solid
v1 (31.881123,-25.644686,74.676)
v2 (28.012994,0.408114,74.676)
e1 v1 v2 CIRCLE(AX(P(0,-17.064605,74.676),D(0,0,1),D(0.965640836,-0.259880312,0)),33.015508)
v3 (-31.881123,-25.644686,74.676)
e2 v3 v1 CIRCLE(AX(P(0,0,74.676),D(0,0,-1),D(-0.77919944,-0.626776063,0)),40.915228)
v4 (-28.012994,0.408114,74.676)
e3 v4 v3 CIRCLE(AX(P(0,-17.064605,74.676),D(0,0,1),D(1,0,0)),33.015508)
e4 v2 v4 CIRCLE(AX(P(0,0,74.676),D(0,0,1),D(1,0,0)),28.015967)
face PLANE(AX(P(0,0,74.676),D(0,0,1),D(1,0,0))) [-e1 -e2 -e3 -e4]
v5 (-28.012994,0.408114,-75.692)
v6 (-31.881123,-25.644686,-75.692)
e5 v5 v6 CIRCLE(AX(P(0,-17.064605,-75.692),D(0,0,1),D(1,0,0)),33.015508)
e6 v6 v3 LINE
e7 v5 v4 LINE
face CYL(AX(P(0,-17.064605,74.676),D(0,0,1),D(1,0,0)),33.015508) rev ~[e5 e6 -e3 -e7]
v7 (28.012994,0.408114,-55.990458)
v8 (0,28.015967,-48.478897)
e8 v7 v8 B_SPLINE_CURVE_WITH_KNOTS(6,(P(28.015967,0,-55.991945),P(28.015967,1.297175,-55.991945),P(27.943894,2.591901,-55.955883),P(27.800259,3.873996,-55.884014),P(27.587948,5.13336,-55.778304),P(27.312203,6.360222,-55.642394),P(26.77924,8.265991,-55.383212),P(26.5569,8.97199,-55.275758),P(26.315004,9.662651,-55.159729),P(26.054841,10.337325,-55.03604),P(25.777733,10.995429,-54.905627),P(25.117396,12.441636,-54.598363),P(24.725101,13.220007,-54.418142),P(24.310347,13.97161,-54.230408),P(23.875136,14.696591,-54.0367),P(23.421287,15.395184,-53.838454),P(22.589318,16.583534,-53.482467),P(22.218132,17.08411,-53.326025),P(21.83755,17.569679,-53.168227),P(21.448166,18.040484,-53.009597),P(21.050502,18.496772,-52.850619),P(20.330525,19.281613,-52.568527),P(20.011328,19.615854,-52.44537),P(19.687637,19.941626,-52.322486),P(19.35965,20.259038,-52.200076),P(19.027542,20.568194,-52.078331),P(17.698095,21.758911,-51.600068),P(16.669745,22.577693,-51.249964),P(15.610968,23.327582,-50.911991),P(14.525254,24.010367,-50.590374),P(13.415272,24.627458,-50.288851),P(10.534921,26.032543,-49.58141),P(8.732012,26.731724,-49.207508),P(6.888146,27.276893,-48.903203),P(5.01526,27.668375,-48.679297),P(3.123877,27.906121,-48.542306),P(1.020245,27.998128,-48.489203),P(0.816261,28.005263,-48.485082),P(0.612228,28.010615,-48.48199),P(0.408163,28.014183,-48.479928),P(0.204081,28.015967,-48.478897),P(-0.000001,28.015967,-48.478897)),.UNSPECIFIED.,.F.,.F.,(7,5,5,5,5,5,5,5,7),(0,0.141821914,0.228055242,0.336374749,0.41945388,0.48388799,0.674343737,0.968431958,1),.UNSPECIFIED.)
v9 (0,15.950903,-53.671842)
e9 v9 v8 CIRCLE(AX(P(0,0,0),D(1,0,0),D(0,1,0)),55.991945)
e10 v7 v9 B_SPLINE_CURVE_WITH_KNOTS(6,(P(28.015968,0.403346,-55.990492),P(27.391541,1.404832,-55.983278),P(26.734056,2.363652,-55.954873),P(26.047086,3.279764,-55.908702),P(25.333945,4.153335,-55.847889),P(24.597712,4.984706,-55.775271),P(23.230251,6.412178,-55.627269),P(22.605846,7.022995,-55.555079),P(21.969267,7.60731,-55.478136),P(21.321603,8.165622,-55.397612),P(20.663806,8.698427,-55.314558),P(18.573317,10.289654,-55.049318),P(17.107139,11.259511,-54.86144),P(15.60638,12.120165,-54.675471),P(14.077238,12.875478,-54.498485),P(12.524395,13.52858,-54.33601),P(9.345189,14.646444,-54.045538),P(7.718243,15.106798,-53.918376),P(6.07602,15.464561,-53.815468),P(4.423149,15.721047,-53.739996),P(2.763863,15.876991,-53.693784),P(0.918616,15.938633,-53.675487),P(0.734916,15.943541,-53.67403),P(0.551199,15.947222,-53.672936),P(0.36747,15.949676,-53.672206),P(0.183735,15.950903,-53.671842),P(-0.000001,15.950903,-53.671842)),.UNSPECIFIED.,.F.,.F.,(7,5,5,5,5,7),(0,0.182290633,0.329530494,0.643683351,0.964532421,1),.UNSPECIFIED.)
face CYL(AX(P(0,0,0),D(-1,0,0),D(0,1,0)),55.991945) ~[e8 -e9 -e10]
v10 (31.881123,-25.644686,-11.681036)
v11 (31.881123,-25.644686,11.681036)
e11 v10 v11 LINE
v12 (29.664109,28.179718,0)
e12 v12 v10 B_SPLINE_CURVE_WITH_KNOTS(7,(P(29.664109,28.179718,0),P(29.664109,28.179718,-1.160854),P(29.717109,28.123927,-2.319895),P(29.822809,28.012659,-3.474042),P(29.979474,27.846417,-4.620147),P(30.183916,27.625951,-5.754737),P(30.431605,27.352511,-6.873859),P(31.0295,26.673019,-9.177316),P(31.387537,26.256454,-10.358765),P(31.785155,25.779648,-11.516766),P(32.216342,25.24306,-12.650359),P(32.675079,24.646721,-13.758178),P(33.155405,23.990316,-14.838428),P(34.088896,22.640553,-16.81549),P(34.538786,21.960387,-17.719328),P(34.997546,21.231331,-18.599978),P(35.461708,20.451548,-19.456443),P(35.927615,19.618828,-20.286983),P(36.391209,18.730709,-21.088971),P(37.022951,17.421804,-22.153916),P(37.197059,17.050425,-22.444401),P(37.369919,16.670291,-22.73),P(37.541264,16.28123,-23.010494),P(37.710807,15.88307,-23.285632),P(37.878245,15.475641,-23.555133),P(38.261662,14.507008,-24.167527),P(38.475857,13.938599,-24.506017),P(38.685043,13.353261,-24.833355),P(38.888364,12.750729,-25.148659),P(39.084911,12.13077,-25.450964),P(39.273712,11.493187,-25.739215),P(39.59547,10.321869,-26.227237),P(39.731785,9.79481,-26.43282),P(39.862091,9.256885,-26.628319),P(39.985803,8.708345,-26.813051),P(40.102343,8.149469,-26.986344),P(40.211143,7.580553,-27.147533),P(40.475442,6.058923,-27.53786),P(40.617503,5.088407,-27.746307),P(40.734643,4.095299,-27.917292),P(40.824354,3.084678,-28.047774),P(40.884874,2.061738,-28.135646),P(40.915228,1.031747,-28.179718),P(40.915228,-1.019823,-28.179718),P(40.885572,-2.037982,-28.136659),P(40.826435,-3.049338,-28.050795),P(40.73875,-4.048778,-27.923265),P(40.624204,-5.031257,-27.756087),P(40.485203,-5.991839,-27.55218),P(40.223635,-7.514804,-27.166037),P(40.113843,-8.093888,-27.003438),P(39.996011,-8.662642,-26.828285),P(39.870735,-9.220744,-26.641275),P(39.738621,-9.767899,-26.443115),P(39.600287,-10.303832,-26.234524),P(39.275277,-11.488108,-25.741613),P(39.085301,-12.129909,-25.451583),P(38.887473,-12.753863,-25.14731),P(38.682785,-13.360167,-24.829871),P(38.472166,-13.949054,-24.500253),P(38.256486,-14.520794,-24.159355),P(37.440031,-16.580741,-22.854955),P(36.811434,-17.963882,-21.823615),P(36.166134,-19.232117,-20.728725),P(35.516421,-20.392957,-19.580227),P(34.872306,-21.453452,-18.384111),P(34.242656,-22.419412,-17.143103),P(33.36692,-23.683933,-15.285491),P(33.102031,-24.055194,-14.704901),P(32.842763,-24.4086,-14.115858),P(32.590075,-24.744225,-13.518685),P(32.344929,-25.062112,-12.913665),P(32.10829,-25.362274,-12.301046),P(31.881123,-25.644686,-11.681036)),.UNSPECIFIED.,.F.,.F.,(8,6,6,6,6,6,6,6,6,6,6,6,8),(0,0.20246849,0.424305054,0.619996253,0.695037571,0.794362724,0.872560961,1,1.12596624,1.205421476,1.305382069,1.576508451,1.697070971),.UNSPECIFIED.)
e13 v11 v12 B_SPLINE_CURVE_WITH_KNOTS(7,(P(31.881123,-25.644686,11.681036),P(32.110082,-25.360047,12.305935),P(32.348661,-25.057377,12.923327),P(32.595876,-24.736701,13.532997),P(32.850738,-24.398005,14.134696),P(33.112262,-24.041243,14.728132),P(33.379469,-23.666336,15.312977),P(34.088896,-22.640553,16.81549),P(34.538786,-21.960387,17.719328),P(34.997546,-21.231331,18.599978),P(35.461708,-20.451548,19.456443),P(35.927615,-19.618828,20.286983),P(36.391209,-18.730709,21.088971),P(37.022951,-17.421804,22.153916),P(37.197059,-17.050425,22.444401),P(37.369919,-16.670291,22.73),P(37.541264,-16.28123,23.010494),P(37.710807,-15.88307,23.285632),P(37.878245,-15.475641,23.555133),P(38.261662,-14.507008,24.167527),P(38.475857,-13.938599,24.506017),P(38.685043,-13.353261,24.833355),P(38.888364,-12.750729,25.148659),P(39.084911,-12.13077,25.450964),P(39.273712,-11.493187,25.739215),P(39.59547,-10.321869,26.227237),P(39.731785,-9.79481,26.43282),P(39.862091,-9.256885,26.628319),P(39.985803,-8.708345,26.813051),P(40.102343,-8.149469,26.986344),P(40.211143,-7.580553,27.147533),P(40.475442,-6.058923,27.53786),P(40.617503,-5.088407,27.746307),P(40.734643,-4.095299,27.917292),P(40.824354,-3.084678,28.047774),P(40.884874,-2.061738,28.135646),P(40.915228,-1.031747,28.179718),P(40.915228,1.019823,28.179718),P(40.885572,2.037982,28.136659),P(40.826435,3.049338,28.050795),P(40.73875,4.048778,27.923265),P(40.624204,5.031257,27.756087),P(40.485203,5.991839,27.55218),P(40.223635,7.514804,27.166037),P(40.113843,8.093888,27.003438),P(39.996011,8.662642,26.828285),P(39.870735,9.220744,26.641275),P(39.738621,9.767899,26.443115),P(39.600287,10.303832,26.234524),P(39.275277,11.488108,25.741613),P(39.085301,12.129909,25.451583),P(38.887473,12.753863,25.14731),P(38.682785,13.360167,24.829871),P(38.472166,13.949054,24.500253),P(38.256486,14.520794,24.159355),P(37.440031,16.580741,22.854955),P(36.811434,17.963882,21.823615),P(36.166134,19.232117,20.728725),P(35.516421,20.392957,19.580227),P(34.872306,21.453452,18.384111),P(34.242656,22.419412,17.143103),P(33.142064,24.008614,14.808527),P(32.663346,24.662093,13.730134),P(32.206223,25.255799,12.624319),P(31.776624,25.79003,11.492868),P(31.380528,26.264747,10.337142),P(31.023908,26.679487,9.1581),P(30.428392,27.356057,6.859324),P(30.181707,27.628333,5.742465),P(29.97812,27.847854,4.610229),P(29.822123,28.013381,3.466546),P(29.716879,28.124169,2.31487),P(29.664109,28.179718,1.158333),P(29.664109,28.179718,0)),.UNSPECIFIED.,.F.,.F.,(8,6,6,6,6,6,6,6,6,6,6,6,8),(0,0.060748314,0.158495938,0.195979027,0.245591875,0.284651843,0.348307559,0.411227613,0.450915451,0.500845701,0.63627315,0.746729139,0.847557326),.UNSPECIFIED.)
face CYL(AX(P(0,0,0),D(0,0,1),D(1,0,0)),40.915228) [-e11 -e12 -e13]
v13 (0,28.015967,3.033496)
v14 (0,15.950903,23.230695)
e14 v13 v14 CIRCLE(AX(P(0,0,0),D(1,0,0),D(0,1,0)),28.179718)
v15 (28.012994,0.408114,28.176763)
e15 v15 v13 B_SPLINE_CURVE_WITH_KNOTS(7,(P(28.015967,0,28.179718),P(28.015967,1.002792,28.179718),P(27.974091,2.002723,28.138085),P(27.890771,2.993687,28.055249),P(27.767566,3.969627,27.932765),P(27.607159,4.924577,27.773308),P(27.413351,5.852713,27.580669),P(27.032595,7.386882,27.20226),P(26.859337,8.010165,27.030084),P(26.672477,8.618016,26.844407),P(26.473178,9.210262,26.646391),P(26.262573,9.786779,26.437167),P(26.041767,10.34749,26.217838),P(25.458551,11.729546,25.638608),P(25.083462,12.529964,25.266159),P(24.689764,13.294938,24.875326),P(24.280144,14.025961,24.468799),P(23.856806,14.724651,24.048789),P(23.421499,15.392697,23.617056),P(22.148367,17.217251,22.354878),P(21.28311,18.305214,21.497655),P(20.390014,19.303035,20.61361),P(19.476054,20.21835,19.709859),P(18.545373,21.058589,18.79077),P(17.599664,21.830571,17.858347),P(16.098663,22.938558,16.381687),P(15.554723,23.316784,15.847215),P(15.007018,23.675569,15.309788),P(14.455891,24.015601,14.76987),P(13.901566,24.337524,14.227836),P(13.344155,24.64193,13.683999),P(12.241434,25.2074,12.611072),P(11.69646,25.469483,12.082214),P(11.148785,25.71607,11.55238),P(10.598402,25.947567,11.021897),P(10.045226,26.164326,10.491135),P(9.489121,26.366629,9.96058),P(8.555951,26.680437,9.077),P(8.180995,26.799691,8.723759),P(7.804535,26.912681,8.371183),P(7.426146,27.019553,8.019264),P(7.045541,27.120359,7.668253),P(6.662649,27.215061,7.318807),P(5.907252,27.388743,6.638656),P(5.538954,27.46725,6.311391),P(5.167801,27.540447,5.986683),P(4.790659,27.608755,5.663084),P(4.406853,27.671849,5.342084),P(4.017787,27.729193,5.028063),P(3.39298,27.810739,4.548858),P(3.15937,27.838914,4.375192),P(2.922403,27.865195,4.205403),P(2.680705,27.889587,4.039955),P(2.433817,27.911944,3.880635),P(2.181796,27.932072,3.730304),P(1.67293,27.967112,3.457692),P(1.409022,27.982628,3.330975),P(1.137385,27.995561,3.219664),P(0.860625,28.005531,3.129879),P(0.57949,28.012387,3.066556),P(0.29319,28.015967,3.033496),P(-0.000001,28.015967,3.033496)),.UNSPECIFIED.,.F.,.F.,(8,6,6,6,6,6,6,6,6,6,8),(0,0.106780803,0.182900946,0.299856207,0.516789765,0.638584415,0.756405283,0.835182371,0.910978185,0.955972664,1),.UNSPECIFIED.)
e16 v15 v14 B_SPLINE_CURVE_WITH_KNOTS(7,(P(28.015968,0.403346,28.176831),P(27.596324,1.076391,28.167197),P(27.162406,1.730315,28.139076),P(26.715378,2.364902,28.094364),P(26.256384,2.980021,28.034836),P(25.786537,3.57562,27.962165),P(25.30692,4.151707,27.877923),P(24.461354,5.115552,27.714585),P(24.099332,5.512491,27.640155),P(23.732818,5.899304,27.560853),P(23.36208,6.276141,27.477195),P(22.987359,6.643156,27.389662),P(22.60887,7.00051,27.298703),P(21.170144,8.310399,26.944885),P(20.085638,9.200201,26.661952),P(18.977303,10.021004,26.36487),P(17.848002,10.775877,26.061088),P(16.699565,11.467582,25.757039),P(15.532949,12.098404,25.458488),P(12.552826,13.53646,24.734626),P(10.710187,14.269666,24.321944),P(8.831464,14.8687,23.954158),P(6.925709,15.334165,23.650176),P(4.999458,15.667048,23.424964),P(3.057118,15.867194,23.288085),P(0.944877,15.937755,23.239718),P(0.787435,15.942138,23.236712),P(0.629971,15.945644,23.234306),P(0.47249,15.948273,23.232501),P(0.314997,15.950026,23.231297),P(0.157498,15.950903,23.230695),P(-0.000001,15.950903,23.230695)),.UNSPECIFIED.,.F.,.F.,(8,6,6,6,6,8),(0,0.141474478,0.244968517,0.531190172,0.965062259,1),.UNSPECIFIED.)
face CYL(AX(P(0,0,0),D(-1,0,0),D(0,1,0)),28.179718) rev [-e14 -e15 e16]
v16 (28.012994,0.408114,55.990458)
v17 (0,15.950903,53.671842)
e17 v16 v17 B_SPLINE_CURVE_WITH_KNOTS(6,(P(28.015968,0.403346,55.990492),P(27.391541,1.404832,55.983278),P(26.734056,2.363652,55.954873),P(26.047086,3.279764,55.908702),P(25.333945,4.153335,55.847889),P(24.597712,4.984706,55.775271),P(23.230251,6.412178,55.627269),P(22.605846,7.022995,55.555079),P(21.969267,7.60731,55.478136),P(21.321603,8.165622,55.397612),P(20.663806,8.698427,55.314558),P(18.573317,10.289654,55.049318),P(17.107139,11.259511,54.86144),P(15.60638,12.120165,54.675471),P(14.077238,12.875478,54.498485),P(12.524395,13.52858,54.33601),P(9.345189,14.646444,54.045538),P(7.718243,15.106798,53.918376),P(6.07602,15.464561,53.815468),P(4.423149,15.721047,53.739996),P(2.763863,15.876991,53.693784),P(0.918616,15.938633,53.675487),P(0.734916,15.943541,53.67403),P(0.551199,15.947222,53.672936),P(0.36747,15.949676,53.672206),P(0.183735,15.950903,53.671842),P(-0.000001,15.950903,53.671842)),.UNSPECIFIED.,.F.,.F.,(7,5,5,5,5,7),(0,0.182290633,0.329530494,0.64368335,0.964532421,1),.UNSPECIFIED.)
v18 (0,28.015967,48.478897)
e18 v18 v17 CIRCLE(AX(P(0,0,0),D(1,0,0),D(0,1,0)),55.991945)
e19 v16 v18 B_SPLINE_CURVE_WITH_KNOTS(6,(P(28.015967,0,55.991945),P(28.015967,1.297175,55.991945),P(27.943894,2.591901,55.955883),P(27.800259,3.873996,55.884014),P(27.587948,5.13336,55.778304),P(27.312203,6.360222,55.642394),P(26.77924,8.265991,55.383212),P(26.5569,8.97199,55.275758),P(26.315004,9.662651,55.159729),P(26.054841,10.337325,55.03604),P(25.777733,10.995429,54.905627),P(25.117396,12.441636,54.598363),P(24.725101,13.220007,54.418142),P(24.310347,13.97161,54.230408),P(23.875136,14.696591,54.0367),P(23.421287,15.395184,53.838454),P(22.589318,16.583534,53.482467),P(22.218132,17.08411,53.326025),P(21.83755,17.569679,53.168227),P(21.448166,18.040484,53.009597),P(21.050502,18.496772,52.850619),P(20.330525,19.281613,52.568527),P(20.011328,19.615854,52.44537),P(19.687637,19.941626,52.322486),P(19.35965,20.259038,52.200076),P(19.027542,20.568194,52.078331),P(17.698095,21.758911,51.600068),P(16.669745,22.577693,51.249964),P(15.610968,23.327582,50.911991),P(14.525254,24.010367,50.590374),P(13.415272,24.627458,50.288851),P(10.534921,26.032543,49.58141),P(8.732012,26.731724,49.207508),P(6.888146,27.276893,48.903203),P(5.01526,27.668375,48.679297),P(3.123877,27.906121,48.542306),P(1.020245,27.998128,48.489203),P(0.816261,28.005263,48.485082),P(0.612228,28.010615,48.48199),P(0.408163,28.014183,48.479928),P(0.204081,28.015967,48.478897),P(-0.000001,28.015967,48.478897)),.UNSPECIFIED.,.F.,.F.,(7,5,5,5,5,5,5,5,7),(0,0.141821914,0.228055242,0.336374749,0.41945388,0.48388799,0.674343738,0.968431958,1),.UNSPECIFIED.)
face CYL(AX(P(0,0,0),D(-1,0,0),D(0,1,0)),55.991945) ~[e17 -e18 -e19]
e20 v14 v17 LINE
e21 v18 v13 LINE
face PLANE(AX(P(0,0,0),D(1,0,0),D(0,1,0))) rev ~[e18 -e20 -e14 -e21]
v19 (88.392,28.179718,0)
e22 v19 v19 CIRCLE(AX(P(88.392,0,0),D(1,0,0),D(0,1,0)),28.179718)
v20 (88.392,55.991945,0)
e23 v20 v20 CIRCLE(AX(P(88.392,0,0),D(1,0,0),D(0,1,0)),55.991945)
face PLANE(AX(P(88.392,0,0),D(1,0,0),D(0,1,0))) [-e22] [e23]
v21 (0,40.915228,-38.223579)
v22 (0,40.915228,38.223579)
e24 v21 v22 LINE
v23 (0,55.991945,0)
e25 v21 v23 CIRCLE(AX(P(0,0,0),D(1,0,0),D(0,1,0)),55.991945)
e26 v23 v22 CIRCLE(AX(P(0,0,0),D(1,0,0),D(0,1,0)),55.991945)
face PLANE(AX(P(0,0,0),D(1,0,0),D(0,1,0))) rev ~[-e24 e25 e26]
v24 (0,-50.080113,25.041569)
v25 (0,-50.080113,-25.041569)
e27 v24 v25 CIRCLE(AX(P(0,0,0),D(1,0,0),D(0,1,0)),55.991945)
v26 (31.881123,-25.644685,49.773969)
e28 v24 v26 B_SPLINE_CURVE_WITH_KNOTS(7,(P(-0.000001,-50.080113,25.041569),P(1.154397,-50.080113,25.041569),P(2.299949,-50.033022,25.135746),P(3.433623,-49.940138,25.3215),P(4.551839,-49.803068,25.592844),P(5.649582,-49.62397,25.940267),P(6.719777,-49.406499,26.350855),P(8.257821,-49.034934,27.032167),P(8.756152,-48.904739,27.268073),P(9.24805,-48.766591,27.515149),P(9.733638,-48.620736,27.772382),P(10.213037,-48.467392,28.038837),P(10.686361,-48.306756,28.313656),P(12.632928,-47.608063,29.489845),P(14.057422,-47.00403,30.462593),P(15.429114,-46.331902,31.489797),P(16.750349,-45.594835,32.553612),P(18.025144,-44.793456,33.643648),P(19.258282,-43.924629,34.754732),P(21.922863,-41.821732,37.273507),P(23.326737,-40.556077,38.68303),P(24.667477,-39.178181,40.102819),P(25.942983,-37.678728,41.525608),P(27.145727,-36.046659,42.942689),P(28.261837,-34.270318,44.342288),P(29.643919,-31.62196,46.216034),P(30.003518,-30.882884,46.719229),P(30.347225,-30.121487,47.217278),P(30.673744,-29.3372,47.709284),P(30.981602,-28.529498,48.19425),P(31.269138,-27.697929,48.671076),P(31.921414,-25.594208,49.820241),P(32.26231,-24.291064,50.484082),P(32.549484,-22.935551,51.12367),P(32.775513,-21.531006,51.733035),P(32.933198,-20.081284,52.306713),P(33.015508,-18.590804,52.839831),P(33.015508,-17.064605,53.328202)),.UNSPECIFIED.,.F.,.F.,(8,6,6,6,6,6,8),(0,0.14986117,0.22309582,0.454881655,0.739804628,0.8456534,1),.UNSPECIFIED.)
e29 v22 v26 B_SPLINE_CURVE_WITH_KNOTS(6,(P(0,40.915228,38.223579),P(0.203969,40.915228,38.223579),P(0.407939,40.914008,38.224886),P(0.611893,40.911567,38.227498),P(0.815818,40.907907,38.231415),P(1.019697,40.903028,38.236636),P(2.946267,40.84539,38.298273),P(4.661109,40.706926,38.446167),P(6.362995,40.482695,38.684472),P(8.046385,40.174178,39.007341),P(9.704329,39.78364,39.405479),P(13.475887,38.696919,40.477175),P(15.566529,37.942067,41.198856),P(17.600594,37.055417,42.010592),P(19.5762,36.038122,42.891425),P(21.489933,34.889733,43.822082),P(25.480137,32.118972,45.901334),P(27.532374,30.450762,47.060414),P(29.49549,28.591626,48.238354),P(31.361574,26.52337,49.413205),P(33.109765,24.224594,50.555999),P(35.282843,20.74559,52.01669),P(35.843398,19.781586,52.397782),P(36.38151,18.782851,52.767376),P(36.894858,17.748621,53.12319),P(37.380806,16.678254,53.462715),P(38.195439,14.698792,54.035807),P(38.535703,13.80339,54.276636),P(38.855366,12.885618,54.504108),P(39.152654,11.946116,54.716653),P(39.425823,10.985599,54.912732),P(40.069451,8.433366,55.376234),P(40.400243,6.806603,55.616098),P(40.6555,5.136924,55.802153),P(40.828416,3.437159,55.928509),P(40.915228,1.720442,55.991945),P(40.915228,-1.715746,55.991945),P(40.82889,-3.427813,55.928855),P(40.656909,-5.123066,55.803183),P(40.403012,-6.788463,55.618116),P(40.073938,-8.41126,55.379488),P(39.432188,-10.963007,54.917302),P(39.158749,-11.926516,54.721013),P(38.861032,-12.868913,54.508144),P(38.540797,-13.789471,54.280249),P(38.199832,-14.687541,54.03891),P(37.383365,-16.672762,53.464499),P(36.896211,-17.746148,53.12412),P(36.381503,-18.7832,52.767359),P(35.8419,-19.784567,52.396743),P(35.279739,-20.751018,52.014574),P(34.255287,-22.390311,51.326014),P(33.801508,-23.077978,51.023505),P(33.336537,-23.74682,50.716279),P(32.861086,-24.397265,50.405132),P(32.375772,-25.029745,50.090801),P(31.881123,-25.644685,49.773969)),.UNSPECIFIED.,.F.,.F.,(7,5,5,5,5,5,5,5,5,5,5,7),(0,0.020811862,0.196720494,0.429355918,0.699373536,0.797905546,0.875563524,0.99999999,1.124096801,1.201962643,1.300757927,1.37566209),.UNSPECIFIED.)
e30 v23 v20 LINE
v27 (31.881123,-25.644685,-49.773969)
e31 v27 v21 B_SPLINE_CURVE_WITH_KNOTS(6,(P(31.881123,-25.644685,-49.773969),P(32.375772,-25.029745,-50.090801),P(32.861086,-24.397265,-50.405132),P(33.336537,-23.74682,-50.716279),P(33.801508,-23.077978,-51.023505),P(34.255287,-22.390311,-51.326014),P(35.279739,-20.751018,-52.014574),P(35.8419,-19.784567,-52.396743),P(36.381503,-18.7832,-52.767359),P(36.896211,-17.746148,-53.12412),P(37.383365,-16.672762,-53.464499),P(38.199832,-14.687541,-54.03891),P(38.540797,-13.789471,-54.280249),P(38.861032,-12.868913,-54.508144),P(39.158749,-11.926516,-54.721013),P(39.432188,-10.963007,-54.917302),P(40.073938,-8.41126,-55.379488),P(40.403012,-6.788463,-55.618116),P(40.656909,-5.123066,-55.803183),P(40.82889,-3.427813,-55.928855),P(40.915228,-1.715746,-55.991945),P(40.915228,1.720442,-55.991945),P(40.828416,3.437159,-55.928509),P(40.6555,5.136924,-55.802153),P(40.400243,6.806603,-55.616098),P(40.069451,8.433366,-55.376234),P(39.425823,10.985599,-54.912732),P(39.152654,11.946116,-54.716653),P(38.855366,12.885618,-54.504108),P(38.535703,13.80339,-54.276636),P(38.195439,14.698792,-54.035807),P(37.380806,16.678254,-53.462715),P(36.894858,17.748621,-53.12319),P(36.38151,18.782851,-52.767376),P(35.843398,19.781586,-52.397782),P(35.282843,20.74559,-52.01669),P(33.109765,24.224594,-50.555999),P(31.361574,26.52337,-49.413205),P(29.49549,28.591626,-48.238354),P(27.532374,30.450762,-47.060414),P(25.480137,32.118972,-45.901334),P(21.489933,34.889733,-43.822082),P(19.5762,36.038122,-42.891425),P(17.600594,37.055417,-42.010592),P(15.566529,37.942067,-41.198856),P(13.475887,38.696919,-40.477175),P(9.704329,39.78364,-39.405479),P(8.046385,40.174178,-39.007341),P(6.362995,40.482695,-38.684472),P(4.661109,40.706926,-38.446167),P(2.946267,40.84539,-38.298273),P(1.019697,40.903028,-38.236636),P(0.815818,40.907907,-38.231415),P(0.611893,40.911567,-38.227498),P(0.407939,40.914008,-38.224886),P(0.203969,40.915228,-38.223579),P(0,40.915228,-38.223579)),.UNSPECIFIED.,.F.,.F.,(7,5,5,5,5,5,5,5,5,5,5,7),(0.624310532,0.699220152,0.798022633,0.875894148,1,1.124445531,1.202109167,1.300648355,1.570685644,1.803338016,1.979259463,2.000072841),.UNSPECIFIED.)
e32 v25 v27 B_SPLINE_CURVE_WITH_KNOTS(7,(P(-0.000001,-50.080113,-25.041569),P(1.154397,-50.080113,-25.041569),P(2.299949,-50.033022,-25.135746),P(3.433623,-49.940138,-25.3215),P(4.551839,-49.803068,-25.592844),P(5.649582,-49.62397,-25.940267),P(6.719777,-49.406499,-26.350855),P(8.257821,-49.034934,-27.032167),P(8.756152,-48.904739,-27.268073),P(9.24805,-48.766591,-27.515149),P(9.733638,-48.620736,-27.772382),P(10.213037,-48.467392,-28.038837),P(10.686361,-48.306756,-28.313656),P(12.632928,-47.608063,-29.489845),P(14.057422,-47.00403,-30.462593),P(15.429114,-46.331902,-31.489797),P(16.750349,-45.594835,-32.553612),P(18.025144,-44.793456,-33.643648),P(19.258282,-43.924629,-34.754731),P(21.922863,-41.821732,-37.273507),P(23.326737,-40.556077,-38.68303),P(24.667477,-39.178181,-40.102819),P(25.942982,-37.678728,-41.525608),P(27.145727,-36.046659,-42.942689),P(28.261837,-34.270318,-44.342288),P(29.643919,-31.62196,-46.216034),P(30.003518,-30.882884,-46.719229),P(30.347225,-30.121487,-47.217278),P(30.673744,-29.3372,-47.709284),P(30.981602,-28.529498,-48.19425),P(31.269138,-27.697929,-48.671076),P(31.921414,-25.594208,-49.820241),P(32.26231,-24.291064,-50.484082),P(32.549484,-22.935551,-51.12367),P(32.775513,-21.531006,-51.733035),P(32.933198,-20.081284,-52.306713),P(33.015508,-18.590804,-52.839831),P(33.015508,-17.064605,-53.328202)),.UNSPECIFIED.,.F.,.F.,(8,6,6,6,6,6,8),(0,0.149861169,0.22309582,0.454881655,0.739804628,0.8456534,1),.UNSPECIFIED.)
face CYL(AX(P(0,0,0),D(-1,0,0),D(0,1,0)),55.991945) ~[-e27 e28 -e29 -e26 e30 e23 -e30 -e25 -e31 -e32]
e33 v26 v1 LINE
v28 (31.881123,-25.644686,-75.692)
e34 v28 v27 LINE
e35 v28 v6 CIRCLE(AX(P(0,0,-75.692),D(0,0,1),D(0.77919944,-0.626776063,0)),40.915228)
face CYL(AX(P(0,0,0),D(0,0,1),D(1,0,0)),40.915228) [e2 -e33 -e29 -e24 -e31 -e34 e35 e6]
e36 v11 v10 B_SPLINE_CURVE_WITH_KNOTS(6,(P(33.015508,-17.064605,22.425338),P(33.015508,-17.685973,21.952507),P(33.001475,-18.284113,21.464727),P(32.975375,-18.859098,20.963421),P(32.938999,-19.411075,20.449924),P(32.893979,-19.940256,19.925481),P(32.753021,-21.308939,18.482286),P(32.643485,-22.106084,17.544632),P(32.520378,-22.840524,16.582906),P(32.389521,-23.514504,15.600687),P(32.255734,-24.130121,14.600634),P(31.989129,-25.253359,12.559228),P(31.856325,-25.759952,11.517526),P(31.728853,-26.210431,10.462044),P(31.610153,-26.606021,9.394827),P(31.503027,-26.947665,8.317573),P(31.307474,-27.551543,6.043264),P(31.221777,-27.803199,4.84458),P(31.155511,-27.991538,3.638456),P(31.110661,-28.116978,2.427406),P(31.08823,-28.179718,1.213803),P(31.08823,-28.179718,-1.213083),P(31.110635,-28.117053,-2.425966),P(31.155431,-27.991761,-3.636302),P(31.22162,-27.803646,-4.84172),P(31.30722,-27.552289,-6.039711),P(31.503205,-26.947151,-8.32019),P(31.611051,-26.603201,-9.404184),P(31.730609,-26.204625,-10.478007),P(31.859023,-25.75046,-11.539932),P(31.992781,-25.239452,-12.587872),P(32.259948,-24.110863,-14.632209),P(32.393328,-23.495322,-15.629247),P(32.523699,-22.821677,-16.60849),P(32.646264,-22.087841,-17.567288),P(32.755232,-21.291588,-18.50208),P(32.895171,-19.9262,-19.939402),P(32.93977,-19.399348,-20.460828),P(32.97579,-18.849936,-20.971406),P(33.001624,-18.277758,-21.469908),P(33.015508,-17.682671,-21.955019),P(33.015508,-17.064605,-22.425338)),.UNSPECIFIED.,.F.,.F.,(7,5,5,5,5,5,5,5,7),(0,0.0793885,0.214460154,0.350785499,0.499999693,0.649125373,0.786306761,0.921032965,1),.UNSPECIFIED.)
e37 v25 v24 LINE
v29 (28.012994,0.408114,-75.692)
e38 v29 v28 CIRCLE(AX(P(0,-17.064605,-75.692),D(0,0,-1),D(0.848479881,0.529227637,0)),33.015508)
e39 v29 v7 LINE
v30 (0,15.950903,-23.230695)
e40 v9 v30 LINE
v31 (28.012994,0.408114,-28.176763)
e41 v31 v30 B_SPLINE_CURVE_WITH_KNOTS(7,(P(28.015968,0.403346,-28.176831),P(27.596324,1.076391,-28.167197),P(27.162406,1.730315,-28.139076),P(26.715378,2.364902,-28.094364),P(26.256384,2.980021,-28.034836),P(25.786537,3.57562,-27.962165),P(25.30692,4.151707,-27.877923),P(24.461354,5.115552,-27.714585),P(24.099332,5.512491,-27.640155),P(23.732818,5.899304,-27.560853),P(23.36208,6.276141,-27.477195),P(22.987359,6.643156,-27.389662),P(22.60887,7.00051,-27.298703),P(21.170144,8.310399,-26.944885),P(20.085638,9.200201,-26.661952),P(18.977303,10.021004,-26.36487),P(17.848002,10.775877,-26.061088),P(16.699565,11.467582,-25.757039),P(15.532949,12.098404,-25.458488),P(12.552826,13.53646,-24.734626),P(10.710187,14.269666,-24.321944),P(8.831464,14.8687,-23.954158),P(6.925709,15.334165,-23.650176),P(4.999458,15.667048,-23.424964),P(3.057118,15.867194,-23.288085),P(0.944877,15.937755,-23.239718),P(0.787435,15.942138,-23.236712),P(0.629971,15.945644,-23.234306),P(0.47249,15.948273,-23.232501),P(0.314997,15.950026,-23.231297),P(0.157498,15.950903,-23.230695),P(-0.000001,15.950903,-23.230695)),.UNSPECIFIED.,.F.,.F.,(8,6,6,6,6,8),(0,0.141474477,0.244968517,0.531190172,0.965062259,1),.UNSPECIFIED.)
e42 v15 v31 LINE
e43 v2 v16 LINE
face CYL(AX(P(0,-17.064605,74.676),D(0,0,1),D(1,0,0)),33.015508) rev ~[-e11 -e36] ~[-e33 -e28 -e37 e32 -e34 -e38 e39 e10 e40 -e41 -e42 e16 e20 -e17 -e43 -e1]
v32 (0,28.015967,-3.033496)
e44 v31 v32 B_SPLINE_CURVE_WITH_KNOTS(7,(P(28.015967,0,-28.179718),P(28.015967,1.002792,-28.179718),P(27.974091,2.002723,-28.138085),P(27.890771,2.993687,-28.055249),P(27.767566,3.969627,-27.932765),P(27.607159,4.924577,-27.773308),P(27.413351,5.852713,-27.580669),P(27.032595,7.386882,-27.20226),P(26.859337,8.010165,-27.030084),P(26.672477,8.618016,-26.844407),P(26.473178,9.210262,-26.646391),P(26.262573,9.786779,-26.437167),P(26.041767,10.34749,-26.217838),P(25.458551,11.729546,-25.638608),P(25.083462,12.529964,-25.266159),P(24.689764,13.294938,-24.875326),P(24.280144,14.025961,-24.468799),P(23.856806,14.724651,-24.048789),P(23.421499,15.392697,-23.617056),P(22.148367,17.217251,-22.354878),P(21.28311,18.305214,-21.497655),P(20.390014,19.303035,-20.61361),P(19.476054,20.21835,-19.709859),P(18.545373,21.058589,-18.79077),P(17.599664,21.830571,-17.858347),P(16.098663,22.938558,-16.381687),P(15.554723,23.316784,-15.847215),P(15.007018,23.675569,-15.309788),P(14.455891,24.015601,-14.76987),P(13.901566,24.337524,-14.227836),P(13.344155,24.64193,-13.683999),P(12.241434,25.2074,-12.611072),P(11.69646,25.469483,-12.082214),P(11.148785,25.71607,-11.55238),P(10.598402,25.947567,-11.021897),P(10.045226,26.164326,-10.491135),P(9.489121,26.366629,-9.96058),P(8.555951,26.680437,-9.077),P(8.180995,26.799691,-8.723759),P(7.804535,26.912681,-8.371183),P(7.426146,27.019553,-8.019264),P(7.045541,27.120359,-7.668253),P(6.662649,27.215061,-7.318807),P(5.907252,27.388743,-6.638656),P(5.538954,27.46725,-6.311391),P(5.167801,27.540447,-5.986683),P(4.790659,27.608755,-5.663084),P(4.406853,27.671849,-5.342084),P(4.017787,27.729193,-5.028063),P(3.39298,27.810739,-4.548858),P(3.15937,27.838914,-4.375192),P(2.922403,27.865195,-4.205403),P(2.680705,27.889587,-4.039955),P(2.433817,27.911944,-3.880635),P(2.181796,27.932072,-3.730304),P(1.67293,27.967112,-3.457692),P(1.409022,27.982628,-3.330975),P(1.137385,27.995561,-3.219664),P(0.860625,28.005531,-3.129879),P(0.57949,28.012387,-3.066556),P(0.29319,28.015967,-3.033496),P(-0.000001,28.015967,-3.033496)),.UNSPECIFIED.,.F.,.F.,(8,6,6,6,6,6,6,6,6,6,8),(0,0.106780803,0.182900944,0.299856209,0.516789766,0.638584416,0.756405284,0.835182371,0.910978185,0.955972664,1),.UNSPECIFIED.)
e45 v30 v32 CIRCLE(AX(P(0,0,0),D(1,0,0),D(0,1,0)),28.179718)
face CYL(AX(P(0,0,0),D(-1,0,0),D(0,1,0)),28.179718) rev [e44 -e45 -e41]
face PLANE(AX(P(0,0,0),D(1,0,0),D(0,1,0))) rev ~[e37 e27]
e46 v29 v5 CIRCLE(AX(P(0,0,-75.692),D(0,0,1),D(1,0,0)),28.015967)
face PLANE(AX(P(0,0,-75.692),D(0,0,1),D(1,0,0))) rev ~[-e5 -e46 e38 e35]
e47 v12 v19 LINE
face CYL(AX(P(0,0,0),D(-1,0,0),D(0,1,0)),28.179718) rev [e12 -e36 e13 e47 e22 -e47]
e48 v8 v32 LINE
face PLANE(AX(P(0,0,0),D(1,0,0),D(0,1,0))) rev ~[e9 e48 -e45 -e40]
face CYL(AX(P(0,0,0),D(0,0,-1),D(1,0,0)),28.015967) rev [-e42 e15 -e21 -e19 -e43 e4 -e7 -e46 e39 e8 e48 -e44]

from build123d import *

# Parameters (mm, degrees)
F0_R     = 40.915228
F0_R_2   = 28.015967
F1_DEPTH = 74.676
F2_DEPTH = 75.692
F3_R     = 55.991945
F3_R_2   = 28.179718
F4_DEPTH = 88.392
F6_R     = 33.015508
F7_DEPTH = 170.18


with BuildPart() as f1:
    # F0 (on Top) → F1 (new body)
    with BuildSketch(Plane.XY):
        Circle(F0_R)
        Circle(F0_R_2, mode=Mode.SUBTRACT)
    extrude(amount=F1_DEPTH)

    # F0 (on Top) → F2 (join)
    with BuildSketch(Plane.XY):
        Circle(F0_R)
        Circle(F0_R_2, mode=Mode.SUBTRACT)
    extrude(amount=-F2_DEPTH)

    # F3 (on Right) → F4 (join)
    with BuildSketch(Plane.YZ):
        Circle(F3_R)
        Circle(F3_R_2, mode=Mode.SUBTRACT)
    extrude(amount=F4_DEPTH)

    # F6 (on face) → F7 (cut)
    with BuildSketch(Plane.XY.offset(74.676)):
        with Locations((0, -17.064605)):
            Circle(F6_R)
    extrude(amount=-F7_DEPTH, mode=Mode.SUBTRACT)


solid = f1.part
